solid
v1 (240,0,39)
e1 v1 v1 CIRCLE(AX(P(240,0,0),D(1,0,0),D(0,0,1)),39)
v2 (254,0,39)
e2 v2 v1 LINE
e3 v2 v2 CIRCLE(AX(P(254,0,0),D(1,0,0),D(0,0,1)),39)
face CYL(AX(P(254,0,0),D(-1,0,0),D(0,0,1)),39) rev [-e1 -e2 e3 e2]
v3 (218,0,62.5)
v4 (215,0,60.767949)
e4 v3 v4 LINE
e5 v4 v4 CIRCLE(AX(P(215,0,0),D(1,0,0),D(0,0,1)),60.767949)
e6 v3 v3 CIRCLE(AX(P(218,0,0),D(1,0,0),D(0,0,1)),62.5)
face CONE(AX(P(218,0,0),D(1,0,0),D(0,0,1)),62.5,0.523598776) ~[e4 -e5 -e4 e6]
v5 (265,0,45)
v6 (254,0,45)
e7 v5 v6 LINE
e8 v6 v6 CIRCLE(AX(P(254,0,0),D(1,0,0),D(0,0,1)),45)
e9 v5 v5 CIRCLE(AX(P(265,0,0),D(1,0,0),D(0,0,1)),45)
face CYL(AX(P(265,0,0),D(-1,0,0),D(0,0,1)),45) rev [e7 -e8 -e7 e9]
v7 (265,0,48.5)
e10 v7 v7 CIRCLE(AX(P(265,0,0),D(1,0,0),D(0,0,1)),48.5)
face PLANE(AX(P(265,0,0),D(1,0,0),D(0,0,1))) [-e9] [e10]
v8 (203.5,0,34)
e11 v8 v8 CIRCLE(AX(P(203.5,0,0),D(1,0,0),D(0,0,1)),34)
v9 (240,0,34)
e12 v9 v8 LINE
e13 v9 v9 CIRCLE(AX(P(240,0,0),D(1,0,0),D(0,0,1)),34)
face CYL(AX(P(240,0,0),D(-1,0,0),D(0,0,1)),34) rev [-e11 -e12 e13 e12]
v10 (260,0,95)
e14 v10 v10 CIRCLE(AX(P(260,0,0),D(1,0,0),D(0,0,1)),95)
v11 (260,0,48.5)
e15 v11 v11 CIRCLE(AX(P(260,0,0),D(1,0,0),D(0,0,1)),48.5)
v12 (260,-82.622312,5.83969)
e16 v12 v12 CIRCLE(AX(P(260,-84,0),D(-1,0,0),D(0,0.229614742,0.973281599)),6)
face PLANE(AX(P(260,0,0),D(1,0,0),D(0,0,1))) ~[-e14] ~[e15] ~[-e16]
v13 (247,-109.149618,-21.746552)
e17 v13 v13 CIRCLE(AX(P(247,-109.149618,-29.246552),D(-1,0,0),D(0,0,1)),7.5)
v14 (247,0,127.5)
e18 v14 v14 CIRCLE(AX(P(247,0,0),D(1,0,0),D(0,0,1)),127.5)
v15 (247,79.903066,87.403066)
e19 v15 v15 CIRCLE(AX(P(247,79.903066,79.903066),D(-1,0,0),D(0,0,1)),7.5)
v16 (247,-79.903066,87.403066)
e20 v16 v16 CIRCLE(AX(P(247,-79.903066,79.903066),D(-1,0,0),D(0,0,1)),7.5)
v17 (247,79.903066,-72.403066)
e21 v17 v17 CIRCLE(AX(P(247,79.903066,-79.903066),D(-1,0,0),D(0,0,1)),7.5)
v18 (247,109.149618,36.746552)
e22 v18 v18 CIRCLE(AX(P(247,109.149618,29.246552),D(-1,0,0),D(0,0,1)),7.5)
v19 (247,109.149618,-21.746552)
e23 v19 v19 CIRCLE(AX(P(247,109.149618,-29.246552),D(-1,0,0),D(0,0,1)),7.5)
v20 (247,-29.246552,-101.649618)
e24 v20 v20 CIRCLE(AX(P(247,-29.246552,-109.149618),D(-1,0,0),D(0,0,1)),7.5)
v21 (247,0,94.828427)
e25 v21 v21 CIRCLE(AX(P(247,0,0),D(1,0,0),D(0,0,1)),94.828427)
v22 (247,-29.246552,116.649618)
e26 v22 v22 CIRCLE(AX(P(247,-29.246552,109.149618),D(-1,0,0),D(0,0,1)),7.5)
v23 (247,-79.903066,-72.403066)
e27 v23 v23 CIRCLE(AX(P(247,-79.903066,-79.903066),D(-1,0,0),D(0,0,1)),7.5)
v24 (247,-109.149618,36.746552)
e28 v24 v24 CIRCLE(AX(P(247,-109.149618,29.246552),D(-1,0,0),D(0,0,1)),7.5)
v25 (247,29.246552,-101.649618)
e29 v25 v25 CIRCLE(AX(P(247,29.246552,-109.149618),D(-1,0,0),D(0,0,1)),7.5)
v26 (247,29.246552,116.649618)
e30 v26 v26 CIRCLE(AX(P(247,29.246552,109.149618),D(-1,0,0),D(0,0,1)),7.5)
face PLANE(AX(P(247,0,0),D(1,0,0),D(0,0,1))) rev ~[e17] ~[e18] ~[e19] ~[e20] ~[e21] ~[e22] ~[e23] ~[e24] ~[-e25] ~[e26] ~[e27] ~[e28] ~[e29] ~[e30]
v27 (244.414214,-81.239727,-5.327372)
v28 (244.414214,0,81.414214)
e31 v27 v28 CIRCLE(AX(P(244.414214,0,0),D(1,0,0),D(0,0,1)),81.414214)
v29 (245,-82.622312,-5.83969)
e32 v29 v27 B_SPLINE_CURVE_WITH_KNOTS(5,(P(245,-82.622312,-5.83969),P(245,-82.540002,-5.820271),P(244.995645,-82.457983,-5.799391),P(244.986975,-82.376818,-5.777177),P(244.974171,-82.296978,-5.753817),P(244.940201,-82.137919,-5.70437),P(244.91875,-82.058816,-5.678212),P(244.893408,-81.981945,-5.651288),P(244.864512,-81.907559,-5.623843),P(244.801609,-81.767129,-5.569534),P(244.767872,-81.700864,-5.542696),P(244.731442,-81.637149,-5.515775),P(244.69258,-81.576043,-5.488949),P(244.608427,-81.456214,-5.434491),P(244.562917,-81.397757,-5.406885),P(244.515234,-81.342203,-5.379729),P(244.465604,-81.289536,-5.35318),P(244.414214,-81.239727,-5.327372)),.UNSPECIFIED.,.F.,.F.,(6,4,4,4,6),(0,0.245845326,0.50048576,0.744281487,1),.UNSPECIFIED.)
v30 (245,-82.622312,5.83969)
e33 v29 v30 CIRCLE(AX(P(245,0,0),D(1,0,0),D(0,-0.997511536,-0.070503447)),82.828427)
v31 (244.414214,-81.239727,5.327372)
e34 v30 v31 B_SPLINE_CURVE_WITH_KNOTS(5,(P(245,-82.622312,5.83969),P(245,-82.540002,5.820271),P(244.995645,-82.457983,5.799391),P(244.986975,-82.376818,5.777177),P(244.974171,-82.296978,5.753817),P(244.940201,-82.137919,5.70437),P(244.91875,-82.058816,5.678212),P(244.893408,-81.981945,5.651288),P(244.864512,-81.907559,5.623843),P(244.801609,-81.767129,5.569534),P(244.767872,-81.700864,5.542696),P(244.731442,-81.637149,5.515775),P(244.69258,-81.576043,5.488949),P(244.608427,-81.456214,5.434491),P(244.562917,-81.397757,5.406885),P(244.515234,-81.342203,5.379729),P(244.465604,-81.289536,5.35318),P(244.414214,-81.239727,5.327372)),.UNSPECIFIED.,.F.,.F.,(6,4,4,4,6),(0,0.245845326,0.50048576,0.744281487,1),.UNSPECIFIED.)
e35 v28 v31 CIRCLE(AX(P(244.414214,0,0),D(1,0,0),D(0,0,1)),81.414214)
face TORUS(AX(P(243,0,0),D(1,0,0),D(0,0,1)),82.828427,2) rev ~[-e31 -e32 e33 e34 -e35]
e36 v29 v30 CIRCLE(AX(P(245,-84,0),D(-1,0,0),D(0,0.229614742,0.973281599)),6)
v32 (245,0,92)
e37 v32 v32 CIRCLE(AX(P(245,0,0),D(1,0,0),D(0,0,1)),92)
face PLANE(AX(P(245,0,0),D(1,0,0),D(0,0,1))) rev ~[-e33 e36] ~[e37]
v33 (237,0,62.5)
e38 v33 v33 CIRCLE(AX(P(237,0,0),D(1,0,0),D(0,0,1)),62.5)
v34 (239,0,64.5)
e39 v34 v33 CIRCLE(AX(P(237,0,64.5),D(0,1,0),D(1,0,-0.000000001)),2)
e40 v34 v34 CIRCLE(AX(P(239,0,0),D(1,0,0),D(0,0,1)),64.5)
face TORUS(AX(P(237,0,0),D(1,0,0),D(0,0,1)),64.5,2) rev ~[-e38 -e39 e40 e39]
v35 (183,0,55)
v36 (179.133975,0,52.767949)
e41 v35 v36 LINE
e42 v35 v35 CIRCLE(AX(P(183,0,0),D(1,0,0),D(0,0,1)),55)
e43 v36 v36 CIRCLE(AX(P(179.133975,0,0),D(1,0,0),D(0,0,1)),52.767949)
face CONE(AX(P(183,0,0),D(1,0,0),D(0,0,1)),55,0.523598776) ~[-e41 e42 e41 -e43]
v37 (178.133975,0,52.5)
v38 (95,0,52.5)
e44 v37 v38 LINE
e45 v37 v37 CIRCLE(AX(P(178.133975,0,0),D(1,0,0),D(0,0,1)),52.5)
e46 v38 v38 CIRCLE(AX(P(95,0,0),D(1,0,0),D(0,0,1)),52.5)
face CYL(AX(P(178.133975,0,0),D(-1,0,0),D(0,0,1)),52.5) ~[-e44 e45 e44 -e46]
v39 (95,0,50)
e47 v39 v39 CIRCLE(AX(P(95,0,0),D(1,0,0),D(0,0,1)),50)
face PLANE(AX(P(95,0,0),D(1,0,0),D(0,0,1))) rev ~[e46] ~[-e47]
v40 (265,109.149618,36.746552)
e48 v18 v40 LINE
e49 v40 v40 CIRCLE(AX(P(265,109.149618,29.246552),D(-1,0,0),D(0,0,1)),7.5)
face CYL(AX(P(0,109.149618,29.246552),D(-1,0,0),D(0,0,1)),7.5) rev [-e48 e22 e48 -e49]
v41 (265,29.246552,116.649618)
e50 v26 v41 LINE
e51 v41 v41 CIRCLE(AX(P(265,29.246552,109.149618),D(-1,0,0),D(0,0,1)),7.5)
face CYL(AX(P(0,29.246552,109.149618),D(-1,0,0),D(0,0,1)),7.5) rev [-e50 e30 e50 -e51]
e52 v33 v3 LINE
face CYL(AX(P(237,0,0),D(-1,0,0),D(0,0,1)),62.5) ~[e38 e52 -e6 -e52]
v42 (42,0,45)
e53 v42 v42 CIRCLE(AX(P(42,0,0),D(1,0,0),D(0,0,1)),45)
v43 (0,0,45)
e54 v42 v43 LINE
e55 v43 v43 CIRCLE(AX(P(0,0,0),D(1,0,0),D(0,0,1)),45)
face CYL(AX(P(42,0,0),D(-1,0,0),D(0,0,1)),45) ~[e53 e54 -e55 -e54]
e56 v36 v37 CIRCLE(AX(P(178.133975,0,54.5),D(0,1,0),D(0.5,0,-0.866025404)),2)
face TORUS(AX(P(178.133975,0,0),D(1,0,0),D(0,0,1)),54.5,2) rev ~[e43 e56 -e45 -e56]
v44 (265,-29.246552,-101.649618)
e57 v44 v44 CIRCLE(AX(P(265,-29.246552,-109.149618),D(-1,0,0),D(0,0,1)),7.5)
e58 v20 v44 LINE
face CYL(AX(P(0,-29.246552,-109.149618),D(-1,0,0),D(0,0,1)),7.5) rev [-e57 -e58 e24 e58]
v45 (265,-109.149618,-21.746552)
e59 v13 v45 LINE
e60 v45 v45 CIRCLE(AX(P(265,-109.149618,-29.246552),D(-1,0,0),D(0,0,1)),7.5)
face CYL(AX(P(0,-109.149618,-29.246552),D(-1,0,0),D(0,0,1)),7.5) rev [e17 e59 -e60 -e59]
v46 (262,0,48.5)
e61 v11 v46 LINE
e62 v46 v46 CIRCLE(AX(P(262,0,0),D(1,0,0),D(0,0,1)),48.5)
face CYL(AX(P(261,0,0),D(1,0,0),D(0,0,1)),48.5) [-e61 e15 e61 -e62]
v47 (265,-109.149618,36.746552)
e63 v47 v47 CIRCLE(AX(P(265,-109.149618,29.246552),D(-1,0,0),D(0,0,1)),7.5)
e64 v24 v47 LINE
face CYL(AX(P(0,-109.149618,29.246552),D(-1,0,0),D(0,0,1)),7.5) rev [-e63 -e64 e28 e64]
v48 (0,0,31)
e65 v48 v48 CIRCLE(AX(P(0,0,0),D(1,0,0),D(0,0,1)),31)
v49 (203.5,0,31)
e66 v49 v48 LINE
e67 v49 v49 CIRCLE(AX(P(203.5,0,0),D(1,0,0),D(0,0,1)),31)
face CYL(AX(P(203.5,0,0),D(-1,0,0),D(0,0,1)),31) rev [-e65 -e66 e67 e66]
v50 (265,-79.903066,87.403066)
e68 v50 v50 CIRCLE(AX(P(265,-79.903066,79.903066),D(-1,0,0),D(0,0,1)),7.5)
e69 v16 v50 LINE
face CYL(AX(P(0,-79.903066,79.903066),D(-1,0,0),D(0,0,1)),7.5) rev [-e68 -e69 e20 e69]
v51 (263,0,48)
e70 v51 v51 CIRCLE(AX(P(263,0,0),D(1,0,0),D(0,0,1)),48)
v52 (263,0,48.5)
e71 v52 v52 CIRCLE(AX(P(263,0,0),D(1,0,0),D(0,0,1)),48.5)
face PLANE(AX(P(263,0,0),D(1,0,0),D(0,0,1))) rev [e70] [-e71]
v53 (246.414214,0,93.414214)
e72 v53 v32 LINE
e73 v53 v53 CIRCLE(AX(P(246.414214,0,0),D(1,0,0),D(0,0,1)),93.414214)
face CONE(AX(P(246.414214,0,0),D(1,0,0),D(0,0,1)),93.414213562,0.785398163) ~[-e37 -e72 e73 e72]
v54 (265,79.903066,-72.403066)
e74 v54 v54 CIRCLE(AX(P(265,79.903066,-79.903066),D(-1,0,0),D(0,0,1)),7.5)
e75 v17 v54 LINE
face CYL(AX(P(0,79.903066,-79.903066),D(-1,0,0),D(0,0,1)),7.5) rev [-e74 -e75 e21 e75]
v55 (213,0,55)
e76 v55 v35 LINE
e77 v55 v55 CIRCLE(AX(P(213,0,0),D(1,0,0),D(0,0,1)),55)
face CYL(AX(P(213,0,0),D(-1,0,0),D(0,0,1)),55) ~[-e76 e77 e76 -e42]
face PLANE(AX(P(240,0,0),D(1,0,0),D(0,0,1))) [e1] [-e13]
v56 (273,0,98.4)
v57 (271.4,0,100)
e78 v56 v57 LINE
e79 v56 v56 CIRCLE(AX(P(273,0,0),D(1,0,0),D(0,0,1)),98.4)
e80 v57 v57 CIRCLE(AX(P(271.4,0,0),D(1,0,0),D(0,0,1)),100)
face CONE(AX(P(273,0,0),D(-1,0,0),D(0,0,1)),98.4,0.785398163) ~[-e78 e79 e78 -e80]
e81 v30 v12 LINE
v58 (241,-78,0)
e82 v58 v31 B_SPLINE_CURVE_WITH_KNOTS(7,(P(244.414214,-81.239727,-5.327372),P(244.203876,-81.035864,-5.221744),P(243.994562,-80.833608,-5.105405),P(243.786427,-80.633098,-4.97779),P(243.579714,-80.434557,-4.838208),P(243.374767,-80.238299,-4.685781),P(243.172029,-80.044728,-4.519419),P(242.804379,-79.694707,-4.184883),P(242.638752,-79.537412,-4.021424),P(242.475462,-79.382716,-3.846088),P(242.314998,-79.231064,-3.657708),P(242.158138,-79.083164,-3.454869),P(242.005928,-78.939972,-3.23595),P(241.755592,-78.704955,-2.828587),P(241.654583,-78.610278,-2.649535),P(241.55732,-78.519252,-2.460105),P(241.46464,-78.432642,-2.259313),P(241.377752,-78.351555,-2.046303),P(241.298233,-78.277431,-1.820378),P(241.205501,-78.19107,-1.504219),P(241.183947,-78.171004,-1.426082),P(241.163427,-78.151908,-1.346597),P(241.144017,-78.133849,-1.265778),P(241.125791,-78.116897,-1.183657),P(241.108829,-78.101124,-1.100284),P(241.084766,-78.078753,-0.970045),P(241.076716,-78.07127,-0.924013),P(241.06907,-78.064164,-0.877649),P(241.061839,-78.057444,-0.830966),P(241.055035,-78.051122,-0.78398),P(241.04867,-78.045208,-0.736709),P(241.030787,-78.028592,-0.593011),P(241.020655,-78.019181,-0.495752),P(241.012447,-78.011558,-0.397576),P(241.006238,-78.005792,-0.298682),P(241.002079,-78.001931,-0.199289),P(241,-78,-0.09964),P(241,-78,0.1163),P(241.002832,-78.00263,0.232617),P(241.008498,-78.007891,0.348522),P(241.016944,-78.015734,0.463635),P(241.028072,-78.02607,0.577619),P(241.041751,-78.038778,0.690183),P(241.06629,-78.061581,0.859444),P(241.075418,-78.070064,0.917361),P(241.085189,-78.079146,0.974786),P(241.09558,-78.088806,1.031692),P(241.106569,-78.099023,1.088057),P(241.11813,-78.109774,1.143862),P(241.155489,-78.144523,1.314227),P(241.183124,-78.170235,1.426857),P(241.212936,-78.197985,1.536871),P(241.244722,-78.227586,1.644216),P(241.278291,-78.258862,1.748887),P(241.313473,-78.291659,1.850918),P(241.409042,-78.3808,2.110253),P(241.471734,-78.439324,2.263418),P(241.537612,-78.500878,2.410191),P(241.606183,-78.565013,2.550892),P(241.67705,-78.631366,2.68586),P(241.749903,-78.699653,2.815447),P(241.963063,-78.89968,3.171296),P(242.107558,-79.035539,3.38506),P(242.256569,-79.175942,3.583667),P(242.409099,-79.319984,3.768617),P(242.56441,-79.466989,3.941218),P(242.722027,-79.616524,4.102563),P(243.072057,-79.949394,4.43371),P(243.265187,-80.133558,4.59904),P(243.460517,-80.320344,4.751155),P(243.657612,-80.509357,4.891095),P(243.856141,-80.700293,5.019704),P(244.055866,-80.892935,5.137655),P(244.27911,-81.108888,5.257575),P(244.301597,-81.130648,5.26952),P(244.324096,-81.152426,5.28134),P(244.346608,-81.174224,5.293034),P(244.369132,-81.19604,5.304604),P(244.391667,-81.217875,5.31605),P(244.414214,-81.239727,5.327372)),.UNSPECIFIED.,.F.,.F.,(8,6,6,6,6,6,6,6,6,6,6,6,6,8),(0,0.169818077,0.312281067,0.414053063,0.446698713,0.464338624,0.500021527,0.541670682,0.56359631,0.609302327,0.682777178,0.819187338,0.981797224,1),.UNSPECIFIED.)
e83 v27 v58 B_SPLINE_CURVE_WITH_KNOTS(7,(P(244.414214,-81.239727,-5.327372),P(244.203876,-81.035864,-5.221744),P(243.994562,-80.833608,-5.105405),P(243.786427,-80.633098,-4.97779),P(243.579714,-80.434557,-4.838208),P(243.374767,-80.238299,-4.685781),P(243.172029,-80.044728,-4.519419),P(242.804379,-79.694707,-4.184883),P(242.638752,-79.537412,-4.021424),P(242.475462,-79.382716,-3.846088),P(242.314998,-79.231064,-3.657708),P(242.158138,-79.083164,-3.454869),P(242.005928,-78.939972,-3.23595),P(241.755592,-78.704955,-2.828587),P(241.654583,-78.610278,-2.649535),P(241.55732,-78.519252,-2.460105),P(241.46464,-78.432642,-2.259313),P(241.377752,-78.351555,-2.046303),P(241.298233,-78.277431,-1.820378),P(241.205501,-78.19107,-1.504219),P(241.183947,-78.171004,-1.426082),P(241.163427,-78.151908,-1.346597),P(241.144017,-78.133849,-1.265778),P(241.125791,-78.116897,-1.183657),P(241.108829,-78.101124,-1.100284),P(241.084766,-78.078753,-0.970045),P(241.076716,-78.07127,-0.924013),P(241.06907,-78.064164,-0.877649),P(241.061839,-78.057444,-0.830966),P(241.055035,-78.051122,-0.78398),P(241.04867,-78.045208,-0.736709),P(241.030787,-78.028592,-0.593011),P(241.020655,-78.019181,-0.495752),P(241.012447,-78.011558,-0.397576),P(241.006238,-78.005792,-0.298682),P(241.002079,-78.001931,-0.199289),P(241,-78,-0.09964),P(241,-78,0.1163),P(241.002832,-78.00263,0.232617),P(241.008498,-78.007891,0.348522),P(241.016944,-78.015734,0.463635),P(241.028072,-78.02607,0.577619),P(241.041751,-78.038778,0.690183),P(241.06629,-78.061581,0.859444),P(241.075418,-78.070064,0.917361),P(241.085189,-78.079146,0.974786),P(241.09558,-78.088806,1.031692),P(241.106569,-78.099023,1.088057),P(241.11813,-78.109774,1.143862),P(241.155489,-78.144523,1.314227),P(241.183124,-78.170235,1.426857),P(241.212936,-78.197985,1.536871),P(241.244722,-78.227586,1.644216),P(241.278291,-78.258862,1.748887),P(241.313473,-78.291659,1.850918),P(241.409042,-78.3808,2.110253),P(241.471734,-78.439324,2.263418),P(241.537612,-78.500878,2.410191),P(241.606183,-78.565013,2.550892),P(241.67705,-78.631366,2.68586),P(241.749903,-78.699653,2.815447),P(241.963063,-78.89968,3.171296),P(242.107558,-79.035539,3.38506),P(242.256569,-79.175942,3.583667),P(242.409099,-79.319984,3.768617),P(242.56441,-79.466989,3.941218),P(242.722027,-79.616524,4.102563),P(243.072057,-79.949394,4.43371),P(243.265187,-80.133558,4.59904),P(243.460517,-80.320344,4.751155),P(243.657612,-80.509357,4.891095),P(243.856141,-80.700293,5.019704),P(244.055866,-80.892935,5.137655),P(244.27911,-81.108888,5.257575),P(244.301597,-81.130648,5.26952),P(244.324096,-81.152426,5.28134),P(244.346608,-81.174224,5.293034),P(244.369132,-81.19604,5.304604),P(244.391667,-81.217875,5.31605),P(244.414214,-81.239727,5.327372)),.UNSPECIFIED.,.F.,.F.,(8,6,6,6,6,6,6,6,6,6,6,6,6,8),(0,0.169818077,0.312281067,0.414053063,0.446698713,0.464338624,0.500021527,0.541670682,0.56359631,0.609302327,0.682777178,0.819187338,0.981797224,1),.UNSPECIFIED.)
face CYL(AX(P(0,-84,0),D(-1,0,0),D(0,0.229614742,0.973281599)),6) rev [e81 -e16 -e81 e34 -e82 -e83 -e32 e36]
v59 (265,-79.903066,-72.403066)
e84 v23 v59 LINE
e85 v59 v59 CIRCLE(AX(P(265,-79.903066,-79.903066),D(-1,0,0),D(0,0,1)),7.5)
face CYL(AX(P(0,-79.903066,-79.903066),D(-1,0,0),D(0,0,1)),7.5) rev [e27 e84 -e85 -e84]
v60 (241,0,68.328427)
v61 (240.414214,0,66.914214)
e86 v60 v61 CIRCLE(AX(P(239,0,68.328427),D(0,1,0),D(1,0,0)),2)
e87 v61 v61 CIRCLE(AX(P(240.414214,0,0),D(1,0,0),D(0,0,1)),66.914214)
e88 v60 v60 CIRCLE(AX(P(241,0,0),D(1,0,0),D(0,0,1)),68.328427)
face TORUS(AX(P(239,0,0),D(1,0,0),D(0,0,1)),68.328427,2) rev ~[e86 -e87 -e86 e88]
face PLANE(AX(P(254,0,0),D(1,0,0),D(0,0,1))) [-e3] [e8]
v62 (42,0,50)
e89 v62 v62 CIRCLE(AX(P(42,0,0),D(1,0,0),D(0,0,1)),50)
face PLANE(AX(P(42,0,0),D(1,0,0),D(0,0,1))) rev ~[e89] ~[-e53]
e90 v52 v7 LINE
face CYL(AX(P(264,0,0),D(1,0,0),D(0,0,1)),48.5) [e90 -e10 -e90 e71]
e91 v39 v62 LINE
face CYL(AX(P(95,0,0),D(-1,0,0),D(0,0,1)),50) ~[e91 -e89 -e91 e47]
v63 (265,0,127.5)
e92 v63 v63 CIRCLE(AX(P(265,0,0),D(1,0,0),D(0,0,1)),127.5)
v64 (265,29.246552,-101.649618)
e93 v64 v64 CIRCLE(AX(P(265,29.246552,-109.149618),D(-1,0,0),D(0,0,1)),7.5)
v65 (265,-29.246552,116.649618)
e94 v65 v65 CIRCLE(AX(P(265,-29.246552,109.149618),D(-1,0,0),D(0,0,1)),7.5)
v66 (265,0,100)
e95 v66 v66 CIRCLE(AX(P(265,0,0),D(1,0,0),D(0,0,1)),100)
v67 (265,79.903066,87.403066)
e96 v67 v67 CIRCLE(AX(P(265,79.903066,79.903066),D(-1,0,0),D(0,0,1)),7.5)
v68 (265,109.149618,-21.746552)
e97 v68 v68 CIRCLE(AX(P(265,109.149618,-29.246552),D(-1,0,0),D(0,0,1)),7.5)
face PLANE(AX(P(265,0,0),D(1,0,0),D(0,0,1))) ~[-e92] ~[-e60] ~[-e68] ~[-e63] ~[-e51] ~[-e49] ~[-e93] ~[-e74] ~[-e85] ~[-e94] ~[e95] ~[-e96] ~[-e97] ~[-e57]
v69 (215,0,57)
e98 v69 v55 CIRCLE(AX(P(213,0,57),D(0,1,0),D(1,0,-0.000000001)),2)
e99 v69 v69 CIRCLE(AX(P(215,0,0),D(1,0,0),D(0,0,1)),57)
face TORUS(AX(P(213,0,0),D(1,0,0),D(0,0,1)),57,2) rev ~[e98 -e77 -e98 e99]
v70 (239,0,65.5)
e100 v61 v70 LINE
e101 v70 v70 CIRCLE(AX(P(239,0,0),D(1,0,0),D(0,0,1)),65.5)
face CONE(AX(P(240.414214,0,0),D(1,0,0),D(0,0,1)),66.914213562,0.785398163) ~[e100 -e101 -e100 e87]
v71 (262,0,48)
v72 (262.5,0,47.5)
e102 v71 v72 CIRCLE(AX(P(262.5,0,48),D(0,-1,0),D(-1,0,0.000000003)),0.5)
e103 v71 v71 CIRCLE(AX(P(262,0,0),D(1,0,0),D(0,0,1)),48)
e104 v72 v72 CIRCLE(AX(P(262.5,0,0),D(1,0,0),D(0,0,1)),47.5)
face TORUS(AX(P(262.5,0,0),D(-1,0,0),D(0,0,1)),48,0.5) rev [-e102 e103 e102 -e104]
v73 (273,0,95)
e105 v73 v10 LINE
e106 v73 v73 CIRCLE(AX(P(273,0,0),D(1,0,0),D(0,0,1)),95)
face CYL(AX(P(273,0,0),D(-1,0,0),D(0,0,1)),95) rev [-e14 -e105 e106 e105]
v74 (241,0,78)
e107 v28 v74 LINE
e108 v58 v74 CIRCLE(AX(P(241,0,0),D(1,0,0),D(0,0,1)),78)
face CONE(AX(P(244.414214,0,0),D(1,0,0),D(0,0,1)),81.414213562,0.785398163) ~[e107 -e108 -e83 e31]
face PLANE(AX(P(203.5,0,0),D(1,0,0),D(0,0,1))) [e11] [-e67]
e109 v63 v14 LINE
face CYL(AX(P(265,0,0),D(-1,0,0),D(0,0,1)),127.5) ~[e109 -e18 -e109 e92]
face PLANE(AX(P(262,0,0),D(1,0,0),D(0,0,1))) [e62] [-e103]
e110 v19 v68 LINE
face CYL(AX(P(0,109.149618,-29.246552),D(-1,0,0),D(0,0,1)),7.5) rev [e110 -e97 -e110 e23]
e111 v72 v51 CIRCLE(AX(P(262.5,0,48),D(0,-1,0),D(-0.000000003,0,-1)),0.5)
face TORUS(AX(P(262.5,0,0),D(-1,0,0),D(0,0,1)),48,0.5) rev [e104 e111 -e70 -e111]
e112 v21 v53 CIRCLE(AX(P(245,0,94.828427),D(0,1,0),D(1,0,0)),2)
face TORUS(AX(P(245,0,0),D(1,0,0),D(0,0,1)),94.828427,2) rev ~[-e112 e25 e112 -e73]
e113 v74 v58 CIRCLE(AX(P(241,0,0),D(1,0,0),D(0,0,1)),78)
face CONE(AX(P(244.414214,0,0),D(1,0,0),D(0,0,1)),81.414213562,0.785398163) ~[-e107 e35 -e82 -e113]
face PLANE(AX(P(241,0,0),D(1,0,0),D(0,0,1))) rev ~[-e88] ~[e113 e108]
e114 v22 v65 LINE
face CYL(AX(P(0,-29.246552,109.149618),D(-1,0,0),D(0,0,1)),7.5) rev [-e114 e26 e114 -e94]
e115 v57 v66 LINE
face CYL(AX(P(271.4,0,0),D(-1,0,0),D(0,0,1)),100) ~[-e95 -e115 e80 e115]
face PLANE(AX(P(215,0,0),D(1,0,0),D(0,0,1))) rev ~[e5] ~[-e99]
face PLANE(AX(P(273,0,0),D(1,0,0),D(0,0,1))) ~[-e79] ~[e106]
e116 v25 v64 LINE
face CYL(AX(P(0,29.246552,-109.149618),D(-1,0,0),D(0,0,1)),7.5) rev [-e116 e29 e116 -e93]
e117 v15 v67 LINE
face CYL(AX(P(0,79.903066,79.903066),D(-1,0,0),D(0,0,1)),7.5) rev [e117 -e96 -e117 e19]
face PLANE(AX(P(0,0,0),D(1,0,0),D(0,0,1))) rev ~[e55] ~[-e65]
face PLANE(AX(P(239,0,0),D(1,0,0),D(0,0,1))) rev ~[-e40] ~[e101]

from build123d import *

# Parameters (mm, degrees)
SKETCH_3_W           = 2
SKETCH_3_H           = 46.5
SKETCH_5_W           = 2
SKETCH_5_H           = 46.5
SKETCH_6_R           = 7.5
CUT_EXTRUDE_1_DEPTH  = 328.171973127
SKETCH_7_R           = 7.5
CUT_EXTRUDE_2_DEPTH  = 328.171973127
SKETCH_8_R           = 7.5
CUT_EXTRUDE_3_DEPTH  = 328.171973127
SKETCH_9_R           = 7.5
CUT_EXTRUDE_4_DEPTH  = 328.171973127
SKETCH_10_R          = 7.5
CUT_EXTRUDE_5_DEPTH  = 328.171973127
SKETCH_11_R          = 7.5
CUT_EXTRUDE_6_DEPTH  = 328.171973127
SKETCH_12_R          = 7.5
CUT_EXTRUDE_7_DEPTH  = 328.171973127
SKETCH_13_R          = 7.5
CUT_EXTRUDE_8_DEPTH  = 328.171973127
SKETCH_14_R          = 7.5
CUT_EXTRUDE_9_DEPTH  = 328.171973127
SKETCH_15_R          = 7.5
CUT_EXTRUDE_10_DEPTH = 328.171973127
SKETCH_16_R          = 7.5
CUT_EXTRUDE_11_DEPTH = 328.171973127
SKETCH_17_R          = 7.5
CUT_EXTRUDE_12_DEPTH = 328.171973127
SKETCH_18_R          = 6
CUT_EXTRUDE_13_DEPTH = 328.171973127


with BuildPart() as part:
    # Эскиз1 → Повернуть1 (revolve)
    with BuildSketch(Plane.XY, mode=Mode.PRIVATE) as revolve_1_sk:
        with BuildLine():
            Line((0, 0), (273, 0))
            Line((273, 0), (273, 98.4))
            Line((273, 98.4), (271.4, 100))
            Line((271.4, 100), (265, 100))
            Line((265, 100), (265, 127.5))
            Line((265, 127.5), (247, 127.5))
            Line((247, 127.5), (247, 94.828427125))
            ThreePointArc((247, 94.828427125), (246.847759065, 94.06306026), (246.414213562, 93.414213562))
            Line((246.414213562, 93.414213562), (245, 92))
            Line((245, 92), (245, 82.828427125))
            ThreePointArc((245, 82.828427125), (244.847759065, 82.06306026), (244.414213562, 81.414213562))
            Line((244.414213562, 81.414213562), (241, 78))
            Line((241, 78), (241, 68.328427125))
            ThreePointArc((241, 68.328427125), (240.847759065, 67.56306026), (240.414213562, 66.914213562))
            Line((240.414213562, 66.914213562), (239, 65.5))
            Line((239, 65.5), (239, 64.5))
            ThreePointArc((239, 64.5), (238.414213562, 63.085786438), (237, 62.5))
            Line((237, 62.5), (218, 62.5))
            Line((218, 62.5), (215, 60.767949192))
            Line((215, 60.767949192), (215, 57))
            ThreePointArc((215, 57), (214.414213562, 55.585786438), (213, 55))
            Line((213, 55), (183, 55))
            Line((183, 55), (179.133974596, 52.767949192))
            ThreePointArc((179.133974596, 52.767949192), (178.651612686, 52.568148347), (178.133974596, 52.5))
            Line((178.133974596, 52.5), (95, 52.5))
            Line((95, 52.5), (95, 50))
            Line((95, 50), (42, 50))
            Line((42, 50), (42, 45))
            Line((42, 45), (0, 45))
            Line((0, 45), (0, 0))
        make_face()
    revolve(revolve_1_sk.sketch.rotate(Axis((0, 0, 0), (1, 0, 0)), 90), axis=Axis((0, 0, 0), (1, 0, 0)))

    # Эскиз2 → Вырез-Повернуть1 (revolve, cut)
    with BuildSketch(Plane.XY, mode=Mode.PRIVATE) as cut_revolve_1_sk:
        Polygon((0, 0), (273, 0), (273, 95), (265, 95), (265, 45), (254, 45), (254, 39), (240, 39), (240, 34), (203.5, 34), (203.5, 31), (0, 31), align=None)
    revolve(cut_revolve_1_sk.sketch.rotate(Axis((0, 0, 0), (1, 0, 0)), 90), axis=Axis((0, 0, 0), (1, 0, 0)), mode=Mode.SUBTRACT)

    # Эскиз3 → Rear_recess_left (revolve, cut)
    with BuildSketch(Plane.XY, mode=Mode.PRIVATE) as rear_recess_left_sk:
        with Locations((261, 71.75)):
            Rectangle(SKETCH_3_W, SKETCH_3_H)
    revolve(rear_recess_left_sk.sketch.rotate(Axis((0, 0, 0), (1, 0, 0)), 90), axis=Axis((0, 0, 0), (1, 0, 0)), mode=Mode.SUBTRACT)

    # Эскиз4 → Collar_groove_nominal (revolve, cut)
    with BuildSketch(Plane.XY, mode=Mode.PRIVATE) as collar_groove_nominal_sk:
        with BuildLine():
            Line((263, 48), (263, 95))
            Line((263, 95), (262, 95))
            Line((262, 95), (262, 48))
            ThreePointArc((262, 48), (262.146446609, 47.646446609), (262.5, 47.5))
            ThreePointArc((262.5, 47.5), (262.853553391, 47.646446609), (263, 48))
        make_face()
    revolve(collar_groove_nominal_sk.sketch.rotate(Axis((0, 0, 0), (1, 0, 0)), 90), axis=Axis((0, 0, 0), (1, 0, 0)), mode=Mode.SUBTRACT)

    # Эскиз5 → Rear_recess_lip (revolve, cut)
    with BuildSketch(Plane.XY, mode=Mode.PRIVATE) as rear_recess_lip_sk:
        with Locations((264, 71.75)):
            Rectangle(SKETCH_5_W, SKETCH_5_H)
    revolve(rear_recess_lip_sk.sketch.rotate(Axis((0, 0, 0), (1, 0, 0)), 90), axis=Axis((0, 0, 0), (1, 0, 0)), mode=Mode.SUBTRACT)

    # Эскиз6 → Вырез-Вытянуть1 (cut, through all)
    with BuildSketch(Plane(origin=(0, 0, 0), x_dir=(0, 0, -1), z_dir=(1, 0, 0))):
        with Locations(Location((109.149618371, 29.246552097, 0), (0, 0, 180))):
            Circle(SKETCH_6_R)
    extrude(amount=CUT_EXTRUDE_1_DEPTH, mode=Mode.SUBTRACT)

    # Эскиз7 → Вырез-Вытянуть2 (cut, through all)
    with BuildSketch(Plane(origin=(0, 0, 0), x_dir=(0, 0, -1), z_dir=(1, 0, 0))):
        with Locations(Location((79.903066274, 79.903066274, 0), (0, 0, 180))):
            Circle(SKETCH_7_R)
    extrude(amount=CUT_EXTRUDE_2_DEPTH, mode=Mode.SUBTRACT)

    # Эскиз8 → Вырез-Вытянуть3 (cut, through all)
    with BuildSketch(Plane(origin=(0, 0, 0), x_dir=(0, 0, -1), z_dir=(1, 0, 0))):
        with Locations(Location((29.246552097, 109.149618371, 0), (0, 0, 180))):
            Circle(SKETCH_8_R)
    extrude(amount=CUT_EXTRUDE_3_DEPTH, mode=Mode.SUBTRACT)

    # Эскиз9 → Вырез-Вытянуть4 (cut, through all)
    with BuildSketch(Plane(origin=(0, 0, 0), x_dir=(0, 0, -1), z_dir=(1, 0, 0))):
        with Locations(Location((-29.246552097, 109.149618371, 0), (0, 0, 180))):
            Circle(SKETCH_9_R)
    extrude(amount=CUT_EXTRUDE_4_DEPTH, mode=Mode.SUBTRACT)

    # Эскиз10 → Вырез-Вытянуть5 (cut, through all)
    with BuildSketch(Plane(origin=(0, 0, 0), x_dir=(0, 0, -1), z_dir=(1, 0, 0))):
        with Locations(Location((-79.903066274, 79.903066274, 0), (0, 0, 180))):
            Circle(SKETCH_10_R)
    extrude(amount=CUT_EXTRUDE_5_DEPTH, mode=Mode.SUBTRACT)

    # Эскиз11 → Вырез-Вытянуть6 (cut, through all)
    with BuildSketch(Plane(origin=(0, 0, 0), x_dir=(0, 0, -1), z_dir=(1, 0, 0))):
        with Locations(Location((-109.149618371, 29.246552097, 0), (0, 0, 180))):
            Circle(SKETCH_11_R)
    extrude(amount=CUT_EXTRUDE_6_DEPTH, mode=Mode.SUBTRACT)

    # Эскиз12 → Вырез-Вытянуть7 (cut, through all)
    with BuildSketch(Plane(origin=(0, 0, 0), x_dir=(0, 0, -1), z_dir=(1, 0, 0))):
        with Locations(Location((-109.149618371, -29.246552097, 0), (0, 0, 180))):
            Circle(SKETCH_12_R)
    extrude(amount=CUT_EXTRUDE_7_DEPTH, mode=Mode.SUBTRACT)

    # Эскиз13 → Вырез-Вытянуть8 (cut, through all)
    with BuildSketch(Plane(origin=(0, 0, 0), x_dir=(0, 0, -1), z_dir=(1, 0, 0))):
        with Locations(Location((-79.903066274, -79.903066274, 0), (0, 0, 180))):
            Circle(SKETCH_13_R)
    extrude(amount=CUT_EXTRUDE_8_DEPTH, mode=Mode.SUBTRACT)

    # Эскиз14 → Вырез-Вытянуть9 (cut, through all)
    with BuildSketch(Plane(origin=(0, 0, 0), x_dir=(0, 0, -1), z_dir=(1, 0, 0))):
        with Locations(Location((-29.246552097, -109.149618371, 0), (0, 0, 180))):
            Circle(SKETCH_14_R)
    extrude(amount=CUT_EXTRUDE_9_DEPTH, mode=Mode.SUBTRACT)

    # Эскиз15 → Вырез-Вытянуть10 (cut, through all)
    with BuildSketch(Plane(origin=(0, 0, 0), x_dir=(0, 0, -1), z_dir=(1, 0, 0))):
        with Locations(Location((29.246552097, -109.149618371, 0), (0, 0, 180))):
            Circle(SKETCH_15_R)
    extrude(amount=CUT_EXTRUDE_10_DEPTH, mode=Mode.SUBTRACT)

    # Эскиз16 → Вырез-Вытянуть11 (cut, through all)
    with BuildSketch(Plane(origin=(0, 0, 0), x_dir=(0, 0, -1), z_dir=(1, 0, 0))):
        with Locations(Location((79.903066274, -79.903066274, 0), (0, 0, 180))):
            Circle(SKETCH_16_R)
    extrude(amount=CUT_EXTRUDE_11_DEPTH, mode=Mode.SUBTRACT)

    # Эскиз17 → Вырез-Вытянуть12 (cut, through all)
    with BuildSketch(Plane(origin=(0, 0, 0), x_dir=(0, 0, -1), z_dir=(1, 0, 0))):
        with Locations(Location((109.149618371, -29.246552097, 0), (0, 0, 180))):
            Circle(SKETCH_17_R)
    extrude(amount=CUT_EXTRUDE_12_DEPTH, mode=Mode.SUBTRACT)

    # Эскиз18 → Вырез-Вытянуть13 (cut, through all)
    with BuildSketch(Plane(origin=(0, 0, 0), x_dir=(0, 0, -1), z_dir=(1, 0, 0))):
        with Locations(Location((0, -84, 0), (0, 0, 166.725608927))):
            Circle(SKETCH_18_R)
    extrude(amount=CUT_EXTRUDE_13_DEPTH, mode=Mode.SUBTRACT)


solid = part.part
